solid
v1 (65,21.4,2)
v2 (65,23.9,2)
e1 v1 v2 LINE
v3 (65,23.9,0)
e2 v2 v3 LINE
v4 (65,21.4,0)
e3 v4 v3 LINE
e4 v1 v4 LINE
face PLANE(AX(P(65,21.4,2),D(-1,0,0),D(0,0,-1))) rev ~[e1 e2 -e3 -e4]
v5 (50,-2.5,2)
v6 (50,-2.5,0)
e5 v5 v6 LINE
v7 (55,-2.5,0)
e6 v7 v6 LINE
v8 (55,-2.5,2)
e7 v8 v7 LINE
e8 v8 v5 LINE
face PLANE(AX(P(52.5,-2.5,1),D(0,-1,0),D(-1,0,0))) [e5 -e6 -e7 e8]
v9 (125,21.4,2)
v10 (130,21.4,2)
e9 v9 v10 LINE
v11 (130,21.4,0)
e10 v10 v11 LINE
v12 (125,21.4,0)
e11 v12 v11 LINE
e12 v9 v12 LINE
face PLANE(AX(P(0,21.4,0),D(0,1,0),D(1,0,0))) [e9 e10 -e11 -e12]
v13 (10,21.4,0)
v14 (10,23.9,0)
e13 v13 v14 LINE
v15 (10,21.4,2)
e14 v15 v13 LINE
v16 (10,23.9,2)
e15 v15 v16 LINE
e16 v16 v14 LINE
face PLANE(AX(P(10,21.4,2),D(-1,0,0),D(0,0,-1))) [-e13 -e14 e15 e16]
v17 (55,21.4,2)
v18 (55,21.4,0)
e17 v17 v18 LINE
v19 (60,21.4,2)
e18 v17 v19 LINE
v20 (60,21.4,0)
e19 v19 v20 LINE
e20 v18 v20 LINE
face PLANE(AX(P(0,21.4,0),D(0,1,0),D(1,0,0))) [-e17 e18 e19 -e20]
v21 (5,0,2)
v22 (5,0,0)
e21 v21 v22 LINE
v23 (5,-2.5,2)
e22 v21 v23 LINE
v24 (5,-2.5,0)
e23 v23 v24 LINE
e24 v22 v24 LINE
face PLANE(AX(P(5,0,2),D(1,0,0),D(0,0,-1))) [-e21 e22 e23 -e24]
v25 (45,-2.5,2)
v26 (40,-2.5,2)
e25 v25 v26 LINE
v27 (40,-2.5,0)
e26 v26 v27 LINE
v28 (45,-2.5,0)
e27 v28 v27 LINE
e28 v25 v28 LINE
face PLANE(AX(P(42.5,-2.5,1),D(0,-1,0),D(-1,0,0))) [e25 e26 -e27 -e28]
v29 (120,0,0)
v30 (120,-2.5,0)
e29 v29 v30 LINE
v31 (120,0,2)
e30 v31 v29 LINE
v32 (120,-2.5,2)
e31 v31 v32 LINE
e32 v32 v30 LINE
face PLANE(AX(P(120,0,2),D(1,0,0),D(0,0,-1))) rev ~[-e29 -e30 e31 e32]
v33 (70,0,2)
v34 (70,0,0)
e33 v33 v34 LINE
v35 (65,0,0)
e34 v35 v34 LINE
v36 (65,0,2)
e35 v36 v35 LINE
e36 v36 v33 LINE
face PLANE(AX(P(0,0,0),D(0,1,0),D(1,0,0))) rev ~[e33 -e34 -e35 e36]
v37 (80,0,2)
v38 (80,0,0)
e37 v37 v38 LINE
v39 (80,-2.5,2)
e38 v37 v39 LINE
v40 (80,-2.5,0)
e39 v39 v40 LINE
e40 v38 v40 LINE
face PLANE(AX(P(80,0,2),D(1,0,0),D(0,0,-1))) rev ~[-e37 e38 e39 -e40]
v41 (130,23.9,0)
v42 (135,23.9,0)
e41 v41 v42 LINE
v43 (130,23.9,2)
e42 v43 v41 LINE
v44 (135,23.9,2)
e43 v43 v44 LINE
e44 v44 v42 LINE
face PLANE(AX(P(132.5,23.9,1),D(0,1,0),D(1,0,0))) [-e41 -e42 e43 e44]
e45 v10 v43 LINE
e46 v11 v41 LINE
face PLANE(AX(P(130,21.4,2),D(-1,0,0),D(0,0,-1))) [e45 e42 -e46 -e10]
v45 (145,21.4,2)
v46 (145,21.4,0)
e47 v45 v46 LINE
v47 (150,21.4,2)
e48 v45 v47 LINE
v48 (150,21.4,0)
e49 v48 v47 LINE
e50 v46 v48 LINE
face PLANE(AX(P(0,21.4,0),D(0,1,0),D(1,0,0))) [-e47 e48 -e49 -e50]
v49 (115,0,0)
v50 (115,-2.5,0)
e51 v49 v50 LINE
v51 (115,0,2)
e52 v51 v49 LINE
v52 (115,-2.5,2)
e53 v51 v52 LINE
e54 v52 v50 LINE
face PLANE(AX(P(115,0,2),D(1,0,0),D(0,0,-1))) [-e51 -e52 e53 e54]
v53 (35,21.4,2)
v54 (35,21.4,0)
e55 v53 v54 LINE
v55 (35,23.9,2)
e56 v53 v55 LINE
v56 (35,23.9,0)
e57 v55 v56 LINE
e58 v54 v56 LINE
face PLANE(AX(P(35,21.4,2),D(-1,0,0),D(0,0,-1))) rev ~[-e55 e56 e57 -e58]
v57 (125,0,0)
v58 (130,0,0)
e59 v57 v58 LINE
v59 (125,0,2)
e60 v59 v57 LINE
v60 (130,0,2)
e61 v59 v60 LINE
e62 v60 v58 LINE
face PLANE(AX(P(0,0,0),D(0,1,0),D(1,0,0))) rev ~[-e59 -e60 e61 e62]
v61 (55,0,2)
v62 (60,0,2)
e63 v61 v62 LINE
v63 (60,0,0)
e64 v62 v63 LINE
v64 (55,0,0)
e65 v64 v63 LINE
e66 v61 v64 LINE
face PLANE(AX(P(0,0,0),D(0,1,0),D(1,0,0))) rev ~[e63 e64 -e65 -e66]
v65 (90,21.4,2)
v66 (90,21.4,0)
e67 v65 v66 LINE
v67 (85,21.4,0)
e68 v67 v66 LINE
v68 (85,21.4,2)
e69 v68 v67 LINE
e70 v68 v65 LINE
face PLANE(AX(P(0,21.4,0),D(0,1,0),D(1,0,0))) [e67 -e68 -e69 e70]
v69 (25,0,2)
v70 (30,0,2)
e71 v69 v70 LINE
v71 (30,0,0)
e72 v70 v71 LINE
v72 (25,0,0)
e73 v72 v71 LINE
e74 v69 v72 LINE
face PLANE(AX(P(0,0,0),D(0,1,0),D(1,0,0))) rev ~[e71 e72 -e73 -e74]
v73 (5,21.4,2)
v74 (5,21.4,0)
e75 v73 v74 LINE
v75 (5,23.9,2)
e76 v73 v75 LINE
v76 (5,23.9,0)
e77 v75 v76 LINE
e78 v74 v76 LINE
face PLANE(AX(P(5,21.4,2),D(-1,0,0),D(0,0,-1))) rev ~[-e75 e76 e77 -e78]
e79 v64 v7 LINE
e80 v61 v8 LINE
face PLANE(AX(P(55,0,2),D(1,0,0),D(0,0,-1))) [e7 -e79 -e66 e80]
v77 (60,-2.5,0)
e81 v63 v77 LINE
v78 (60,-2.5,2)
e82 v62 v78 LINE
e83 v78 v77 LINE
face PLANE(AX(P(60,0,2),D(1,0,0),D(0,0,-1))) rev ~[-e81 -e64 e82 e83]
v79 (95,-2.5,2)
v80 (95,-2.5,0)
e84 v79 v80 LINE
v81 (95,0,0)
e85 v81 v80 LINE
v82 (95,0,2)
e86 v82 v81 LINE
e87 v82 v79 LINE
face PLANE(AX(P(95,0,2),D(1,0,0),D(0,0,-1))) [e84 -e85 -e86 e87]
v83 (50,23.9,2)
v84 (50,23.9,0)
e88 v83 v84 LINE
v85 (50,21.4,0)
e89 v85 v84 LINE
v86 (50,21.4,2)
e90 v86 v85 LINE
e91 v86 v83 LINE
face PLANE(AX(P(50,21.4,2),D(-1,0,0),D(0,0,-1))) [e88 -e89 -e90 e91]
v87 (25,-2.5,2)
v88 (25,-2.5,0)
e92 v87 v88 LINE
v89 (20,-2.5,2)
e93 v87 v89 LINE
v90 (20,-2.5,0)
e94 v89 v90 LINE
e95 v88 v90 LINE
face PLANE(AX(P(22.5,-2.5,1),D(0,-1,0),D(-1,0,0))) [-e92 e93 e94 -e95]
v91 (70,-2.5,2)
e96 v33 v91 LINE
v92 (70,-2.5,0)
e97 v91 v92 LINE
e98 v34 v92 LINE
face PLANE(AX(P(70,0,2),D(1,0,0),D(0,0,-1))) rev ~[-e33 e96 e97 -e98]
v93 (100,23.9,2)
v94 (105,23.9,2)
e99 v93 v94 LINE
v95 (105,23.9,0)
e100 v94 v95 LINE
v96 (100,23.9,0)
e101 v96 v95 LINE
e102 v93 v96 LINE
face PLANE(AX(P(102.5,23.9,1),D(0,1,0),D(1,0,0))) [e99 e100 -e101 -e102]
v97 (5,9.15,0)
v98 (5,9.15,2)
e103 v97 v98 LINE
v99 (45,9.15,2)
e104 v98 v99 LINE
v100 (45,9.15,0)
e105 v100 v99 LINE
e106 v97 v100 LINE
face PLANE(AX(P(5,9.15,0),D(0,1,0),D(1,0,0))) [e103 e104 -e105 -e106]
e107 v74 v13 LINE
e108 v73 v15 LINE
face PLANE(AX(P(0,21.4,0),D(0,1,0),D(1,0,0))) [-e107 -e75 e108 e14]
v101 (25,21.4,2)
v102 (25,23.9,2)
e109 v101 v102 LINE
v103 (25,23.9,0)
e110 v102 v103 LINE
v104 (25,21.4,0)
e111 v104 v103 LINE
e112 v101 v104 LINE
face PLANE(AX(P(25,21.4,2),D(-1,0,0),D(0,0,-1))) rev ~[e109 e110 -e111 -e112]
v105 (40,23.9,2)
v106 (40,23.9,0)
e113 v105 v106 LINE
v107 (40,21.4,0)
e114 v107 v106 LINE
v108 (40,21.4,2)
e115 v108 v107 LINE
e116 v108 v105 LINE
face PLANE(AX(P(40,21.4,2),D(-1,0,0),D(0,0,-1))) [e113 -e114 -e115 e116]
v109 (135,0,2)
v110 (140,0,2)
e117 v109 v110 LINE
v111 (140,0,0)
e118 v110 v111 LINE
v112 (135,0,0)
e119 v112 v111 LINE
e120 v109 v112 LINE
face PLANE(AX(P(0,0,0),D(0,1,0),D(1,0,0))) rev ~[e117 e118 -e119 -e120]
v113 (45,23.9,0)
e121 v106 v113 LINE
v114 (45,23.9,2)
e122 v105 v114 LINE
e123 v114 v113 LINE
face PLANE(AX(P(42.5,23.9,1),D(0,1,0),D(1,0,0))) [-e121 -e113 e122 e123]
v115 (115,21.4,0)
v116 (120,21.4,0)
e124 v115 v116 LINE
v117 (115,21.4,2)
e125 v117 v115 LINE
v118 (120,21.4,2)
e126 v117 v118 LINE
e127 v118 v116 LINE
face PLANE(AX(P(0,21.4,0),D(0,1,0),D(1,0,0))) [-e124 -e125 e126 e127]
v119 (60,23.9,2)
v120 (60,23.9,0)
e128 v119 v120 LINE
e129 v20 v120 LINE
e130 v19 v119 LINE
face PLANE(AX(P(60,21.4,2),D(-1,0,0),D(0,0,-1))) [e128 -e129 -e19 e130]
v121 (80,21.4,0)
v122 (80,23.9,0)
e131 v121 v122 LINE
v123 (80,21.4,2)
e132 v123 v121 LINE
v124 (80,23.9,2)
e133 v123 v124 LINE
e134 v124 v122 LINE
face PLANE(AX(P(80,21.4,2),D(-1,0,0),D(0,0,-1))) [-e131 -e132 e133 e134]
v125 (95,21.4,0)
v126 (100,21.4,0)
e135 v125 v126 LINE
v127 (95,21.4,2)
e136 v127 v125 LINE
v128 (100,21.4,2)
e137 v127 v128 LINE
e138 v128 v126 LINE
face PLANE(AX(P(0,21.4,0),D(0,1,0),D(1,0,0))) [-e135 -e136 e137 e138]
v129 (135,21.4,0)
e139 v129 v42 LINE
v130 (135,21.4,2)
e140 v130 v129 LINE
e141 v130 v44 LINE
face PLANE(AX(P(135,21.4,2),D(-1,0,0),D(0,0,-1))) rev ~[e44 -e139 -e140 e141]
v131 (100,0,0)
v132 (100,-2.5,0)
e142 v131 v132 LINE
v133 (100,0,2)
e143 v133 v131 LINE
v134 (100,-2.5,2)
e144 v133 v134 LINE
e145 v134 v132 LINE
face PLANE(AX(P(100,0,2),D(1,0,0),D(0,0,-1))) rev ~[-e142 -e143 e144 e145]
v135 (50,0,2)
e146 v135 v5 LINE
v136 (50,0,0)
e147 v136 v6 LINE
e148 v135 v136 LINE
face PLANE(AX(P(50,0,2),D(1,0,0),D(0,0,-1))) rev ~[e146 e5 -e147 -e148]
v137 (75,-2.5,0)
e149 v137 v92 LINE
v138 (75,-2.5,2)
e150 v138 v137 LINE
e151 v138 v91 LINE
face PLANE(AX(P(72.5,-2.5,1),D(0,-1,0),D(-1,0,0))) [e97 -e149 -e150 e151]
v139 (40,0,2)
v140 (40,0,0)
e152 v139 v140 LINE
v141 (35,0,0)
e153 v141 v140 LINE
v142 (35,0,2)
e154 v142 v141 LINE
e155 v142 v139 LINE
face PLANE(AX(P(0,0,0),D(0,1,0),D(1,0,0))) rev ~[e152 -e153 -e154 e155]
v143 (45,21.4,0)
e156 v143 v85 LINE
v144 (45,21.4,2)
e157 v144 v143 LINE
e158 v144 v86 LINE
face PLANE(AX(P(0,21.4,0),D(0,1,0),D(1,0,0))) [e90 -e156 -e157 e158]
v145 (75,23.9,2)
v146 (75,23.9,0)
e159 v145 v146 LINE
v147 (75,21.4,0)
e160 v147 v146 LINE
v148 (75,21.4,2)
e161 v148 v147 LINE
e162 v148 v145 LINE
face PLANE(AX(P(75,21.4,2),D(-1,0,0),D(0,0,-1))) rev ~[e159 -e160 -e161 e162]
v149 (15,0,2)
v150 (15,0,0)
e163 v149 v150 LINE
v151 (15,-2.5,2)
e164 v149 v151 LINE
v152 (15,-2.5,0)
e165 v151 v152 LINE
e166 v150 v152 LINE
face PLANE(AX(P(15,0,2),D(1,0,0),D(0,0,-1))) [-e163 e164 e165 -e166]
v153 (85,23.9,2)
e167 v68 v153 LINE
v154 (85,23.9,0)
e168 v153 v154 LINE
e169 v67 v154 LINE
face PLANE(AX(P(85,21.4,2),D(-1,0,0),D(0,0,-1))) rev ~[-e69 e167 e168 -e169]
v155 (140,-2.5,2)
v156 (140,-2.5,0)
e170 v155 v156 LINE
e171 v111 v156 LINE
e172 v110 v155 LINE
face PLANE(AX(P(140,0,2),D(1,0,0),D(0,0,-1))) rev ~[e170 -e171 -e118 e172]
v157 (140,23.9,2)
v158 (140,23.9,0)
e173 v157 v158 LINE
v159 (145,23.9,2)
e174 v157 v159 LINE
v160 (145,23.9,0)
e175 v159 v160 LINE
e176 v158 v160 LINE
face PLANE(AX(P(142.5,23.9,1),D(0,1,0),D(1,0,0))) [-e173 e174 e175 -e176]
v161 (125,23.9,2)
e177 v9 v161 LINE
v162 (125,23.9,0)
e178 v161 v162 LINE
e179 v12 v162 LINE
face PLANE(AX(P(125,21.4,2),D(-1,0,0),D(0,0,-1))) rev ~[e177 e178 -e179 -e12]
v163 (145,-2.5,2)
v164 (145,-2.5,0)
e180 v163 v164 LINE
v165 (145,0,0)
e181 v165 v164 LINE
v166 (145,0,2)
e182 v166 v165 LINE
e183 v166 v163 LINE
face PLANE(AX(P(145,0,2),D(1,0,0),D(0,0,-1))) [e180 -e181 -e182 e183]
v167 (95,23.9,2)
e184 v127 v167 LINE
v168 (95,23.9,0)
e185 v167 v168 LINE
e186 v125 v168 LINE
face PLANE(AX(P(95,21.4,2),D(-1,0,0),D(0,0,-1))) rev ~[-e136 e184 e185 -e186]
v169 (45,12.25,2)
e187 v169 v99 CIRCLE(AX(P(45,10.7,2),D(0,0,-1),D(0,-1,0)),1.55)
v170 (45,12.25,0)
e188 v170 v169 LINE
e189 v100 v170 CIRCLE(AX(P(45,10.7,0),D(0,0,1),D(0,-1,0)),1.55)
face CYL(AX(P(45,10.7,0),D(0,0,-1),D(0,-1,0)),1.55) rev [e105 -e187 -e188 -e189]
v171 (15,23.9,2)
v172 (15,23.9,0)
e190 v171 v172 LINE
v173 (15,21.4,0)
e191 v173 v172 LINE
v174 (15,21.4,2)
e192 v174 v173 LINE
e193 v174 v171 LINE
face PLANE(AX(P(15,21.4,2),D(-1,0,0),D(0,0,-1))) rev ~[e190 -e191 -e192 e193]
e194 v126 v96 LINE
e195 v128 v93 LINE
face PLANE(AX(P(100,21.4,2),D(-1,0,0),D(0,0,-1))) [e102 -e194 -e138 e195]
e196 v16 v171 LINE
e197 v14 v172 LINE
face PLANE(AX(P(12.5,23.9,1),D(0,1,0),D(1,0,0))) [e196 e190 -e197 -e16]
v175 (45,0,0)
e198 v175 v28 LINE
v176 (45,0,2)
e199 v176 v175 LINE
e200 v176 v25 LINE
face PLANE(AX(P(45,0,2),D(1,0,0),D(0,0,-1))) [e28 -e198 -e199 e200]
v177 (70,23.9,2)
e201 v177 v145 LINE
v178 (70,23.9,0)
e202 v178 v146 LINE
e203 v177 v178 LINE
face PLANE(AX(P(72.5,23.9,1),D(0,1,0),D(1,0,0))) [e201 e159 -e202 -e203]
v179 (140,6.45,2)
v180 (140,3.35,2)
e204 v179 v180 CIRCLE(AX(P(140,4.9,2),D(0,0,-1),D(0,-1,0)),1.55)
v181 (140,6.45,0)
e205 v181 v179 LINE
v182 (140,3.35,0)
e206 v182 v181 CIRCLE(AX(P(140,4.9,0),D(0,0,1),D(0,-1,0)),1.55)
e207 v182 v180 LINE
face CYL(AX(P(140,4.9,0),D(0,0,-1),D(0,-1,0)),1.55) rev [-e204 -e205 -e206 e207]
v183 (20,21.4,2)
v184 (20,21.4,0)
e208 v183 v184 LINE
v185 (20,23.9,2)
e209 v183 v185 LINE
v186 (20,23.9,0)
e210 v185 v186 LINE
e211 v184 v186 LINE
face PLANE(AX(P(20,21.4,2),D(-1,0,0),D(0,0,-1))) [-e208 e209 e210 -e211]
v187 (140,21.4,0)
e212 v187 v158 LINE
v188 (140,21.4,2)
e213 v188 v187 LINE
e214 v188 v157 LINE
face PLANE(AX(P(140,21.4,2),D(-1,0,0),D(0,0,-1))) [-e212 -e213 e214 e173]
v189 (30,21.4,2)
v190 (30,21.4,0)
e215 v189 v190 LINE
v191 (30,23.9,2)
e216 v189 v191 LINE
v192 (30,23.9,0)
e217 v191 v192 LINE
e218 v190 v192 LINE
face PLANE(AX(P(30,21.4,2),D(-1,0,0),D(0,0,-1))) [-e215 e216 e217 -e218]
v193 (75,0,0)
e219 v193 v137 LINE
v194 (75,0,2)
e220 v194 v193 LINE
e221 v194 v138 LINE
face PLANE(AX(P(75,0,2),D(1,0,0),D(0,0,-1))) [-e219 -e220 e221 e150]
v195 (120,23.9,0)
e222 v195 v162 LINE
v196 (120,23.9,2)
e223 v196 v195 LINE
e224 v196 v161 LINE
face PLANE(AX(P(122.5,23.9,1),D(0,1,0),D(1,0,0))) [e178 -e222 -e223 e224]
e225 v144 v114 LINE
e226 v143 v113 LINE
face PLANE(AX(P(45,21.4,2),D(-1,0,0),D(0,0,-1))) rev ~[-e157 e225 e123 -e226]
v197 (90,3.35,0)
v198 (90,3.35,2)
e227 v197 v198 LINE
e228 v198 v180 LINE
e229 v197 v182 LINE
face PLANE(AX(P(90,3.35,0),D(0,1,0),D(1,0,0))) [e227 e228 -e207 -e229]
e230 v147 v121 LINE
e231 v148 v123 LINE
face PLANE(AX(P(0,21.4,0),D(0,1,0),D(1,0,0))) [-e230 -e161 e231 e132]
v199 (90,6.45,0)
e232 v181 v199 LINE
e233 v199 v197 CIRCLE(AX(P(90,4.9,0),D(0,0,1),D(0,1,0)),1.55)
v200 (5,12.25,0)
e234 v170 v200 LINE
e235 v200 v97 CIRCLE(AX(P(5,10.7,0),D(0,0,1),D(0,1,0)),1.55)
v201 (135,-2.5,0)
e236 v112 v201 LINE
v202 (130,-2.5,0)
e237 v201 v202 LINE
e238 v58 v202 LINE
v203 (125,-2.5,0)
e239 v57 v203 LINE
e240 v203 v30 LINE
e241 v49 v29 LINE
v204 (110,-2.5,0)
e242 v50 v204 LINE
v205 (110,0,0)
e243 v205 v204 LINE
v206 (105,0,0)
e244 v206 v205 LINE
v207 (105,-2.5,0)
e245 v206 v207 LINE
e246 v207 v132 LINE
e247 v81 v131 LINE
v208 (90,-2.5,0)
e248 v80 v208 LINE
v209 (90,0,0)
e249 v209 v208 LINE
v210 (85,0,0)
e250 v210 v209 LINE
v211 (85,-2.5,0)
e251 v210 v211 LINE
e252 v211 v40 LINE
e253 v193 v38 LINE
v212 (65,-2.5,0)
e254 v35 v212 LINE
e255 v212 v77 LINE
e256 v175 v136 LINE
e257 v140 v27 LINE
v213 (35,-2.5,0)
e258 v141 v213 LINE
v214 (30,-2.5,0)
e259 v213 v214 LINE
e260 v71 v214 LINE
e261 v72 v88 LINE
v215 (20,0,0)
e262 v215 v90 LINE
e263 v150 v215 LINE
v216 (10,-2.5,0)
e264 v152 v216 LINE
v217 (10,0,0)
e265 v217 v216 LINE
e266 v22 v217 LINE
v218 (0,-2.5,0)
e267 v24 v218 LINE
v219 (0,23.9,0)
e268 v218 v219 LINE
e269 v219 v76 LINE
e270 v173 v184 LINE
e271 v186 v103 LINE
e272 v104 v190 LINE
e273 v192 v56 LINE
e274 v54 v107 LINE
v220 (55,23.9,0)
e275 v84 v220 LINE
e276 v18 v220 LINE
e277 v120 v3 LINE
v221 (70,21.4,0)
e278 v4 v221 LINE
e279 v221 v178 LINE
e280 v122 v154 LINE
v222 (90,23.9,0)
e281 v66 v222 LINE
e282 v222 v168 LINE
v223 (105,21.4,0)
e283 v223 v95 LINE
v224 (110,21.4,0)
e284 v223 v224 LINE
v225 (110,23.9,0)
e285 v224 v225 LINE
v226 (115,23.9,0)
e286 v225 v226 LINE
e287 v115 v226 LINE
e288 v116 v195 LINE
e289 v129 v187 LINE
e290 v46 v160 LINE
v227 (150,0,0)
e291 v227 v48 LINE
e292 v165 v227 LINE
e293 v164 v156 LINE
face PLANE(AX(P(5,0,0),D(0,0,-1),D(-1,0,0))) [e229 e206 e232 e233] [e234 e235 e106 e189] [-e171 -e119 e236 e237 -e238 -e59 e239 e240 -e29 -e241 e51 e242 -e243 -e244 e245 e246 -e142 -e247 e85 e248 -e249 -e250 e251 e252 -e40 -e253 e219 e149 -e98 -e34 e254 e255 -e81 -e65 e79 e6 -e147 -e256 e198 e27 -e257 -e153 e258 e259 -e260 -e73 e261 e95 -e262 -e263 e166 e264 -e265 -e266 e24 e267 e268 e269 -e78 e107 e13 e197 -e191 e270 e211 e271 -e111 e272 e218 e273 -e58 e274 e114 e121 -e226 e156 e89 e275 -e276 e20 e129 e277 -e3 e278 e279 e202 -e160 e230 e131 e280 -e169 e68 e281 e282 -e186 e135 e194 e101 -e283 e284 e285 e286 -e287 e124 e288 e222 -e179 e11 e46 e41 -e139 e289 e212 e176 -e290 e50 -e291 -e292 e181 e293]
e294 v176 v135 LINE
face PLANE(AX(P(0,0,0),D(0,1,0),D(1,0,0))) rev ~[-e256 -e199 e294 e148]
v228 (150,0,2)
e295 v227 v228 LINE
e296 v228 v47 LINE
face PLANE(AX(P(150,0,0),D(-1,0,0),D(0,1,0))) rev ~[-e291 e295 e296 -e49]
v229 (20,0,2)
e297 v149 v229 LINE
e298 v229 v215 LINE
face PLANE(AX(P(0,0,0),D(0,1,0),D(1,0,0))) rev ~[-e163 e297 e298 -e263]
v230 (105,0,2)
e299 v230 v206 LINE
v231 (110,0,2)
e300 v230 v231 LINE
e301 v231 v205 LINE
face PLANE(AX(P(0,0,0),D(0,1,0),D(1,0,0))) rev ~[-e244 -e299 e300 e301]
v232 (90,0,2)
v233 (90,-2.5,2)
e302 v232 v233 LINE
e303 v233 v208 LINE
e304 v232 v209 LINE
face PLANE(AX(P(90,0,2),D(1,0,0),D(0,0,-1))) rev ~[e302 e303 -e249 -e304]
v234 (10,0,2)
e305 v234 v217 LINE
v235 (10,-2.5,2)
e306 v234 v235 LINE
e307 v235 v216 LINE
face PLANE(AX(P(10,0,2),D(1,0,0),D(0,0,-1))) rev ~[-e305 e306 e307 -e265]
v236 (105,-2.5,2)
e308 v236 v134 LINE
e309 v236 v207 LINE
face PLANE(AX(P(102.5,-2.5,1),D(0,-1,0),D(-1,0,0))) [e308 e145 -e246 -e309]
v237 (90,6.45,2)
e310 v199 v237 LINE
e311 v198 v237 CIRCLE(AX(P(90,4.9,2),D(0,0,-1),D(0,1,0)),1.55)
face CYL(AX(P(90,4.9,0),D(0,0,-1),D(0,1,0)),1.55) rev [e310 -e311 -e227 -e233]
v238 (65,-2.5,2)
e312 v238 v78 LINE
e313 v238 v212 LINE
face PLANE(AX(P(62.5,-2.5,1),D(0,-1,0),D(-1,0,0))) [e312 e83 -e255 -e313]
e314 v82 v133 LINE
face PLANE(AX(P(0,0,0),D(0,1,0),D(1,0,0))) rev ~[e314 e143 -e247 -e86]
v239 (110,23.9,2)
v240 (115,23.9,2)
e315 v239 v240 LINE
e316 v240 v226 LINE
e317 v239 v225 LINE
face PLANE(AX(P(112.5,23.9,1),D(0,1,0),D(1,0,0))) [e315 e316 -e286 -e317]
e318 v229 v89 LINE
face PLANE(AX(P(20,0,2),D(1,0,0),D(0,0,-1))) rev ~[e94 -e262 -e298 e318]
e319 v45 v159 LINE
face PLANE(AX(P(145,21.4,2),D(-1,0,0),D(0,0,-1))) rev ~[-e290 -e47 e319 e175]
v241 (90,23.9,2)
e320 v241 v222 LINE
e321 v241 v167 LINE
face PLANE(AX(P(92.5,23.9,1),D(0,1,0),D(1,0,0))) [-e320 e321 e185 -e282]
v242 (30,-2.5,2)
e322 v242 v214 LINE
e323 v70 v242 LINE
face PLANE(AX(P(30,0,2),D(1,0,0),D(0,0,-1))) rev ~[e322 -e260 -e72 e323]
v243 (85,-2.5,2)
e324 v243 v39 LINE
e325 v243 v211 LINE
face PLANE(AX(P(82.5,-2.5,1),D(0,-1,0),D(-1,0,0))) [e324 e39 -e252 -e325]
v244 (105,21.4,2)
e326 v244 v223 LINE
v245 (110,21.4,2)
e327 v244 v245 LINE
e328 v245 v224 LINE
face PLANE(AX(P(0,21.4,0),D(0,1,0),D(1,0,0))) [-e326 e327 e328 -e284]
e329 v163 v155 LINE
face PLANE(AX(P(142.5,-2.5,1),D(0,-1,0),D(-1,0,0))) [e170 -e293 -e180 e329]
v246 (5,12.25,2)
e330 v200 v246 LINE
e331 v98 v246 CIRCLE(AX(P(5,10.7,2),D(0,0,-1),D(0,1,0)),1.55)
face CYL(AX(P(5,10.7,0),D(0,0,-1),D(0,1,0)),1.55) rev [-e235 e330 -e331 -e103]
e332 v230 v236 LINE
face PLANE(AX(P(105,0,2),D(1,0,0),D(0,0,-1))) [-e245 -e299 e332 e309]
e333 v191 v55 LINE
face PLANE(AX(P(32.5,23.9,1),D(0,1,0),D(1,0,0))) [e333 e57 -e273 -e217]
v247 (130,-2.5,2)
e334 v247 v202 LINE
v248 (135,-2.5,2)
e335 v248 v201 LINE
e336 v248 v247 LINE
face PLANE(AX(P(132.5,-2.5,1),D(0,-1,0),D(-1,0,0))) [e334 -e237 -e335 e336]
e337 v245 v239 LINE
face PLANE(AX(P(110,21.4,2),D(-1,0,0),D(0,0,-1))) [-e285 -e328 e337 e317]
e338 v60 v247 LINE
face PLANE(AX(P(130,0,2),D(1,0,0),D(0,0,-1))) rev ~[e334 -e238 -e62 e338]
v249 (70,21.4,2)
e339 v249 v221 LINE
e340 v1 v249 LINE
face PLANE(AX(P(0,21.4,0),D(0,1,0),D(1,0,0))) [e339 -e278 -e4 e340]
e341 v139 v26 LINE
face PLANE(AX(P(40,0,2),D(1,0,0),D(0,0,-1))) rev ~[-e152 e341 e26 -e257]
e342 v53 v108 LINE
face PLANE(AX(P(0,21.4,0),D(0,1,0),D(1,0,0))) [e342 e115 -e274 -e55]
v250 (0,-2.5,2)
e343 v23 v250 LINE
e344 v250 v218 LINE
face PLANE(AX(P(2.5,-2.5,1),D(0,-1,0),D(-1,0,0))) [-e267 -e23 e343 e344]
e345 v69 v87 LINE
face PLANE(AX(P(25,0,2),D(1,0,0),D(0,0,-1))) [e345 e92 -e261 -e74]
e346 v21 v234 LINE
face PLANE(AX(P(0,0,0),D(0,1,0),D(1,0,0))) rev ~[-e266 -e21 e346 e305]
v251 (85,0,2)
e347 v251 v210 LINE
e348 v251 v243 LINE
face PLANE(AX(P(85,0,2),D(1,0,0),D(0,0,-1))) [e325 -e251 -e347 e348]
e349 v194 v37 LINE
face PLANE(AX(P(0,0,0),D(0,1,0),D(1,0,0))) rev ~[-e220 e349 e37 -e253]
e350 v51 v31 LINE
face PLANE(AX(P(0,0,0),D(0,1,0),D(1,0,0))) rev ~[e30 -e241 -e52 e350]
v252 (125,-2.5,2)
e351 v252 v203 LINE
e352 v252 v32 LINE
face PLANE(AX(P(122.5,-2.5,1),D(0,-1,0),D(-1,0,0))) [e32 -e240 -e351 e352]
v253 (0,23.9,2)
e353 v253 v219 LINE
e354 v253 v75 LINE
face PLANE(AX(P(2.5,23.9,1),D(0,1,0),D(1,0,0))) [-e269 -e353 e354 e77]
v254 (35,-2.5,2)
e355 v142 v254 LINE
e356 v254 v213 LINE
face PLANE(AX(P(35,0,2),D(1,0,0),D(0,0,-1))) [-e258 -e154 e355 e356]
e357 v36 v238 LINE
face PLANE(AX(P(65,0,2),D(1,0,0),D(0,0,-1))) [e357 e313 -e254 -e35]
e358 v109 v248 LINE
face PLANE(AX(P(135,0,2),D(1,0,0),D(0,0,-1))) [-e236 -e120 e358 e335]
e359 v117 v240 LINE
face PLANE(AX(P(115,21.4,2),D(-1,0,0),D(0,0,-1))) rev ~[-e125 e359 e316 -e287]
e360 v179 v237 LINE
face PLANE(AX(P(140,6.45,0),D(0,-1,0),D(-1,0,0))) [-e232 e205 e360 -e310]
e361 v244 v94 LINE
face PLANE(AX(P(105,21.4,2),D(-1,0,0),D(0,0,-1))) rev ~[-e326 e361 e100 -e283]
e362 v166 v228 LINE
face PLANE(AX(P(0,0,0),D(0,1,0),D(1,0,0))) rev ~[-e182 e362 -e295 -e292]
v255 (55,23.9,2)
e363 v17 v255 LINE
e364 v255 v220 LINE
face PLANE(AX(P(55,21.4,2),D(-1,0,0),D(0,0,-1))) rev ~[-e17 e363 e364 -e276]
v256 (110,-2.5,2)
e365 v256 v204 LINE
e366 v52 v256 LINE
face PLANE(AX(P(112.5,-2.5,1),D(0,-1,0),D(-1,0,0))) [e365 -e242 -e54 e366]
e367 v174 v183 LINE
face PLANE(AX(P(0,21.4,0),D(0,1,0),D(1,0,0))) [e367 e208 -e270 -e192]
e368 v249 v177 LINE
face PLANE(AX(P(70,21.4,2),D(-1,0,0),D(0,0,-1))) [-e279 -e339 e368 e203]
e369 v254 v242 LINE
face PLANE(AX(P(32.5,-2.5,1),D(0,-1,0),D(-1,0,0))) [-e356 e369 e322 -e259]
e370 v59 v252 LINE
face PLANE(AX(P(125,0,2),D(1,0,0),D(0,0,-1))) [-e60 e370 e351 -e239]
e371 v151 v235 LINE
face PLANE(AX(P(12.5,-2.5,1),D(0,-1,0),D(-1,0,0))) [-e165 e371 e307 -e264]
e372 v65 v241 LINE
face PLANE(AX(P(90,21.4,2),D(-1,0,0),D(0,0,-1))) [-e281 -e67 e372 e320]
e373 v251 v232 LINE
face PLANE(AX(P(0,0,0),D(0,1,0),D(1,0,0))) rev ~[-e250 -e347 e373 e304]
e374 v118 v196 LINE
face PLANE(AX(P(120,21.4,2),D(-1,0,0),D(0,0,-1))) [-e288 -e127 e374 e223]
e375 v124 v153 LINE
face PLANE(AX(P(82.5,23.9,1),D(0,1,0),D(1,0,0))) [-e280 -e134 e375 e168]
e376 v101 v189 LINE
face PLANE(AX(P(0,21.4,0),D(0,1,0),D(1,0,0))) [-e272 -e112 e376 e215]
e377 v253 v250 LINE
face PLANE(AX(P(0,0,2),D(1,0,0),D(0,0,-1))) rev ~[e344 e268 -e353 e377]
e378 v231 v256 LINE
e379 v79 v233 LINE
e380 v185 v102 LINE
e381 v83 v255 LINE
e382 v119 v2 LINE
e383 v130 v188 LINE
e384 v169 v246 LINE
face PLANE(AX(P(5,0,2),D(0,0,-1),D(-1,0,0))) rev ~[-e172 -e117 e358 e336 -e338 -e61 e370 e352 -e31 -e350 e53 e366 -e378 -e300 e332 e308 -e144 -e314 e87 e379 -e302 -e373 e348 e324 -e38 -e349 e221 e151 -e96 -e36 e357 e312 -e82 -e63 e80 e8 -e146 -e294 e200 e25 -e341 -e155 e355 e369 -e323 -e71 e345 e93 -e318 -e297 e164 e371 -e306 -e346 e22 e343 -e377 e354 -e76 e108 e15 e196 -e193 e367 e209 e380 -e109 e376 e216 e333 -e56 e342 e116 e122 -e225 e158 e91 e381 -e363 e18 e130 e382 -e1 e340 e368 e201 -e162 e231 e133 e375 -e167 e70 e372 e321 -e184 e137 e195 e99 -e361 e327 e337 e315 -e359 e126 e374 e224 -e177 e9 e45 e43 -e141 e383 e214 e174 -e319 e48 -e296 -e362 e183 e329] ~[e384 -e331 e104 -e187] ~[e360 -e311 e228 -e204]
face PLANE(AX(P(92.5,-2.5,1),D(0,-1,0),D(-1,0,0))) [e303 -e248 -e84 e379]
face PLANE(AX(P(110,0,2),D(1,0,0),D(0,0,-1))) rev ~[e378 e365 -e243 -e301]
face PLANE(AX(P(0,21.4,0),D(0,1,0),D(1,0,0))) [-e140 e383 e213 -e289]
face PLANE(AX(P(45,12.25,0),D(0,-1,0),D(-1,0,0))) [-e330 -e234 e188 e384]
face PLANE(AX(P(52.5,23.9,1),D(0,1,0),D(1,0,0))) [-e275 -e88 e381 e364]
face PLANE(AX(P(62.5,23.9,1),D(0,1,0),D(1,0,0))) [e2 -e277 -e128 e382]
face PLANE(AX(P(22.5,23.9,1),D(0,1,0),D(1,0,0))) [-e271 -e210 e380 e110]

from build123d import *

# Parameters (mm, degrees)
SKETCH1_W           = 150
SKETCH1_H           = 21.4
BOSS_EXTRUDE2_DEPTH = 2
SKETCH2_W           = 5
SKETCH2_H           = 2
BOSS_EXTRUDE3_DEPTH = 2.5
LPATTERN1_COUNT     = 15
LPATTERN1_PITCH     = 10
SKETCH3_W           = 5
SKETCH3_H           = 2
BOSS_EXTRUDE4_DEPTH = 2.5
LPATTERN2_COUNT     = 15
LPATTERN2_PITCH     = 10
CUT_EXTRUDE1_DEPTH  = 10


with BuildPart() as part:
    # Sketch1 → Boss-Extrude2 (new body)
    with BuildSketch(Plane.XY):
        with Locations((75, 10.7)):
            Rectangle(SKETCH1_W, SKETCH1_H)
    extrude(amount=BOSS_EXTRUDE2_DEPTH)

    # Sketch2 → Boss-Extrude3 (add)
    with BuildSketch(Plane(origin=(0, 21.4, 0), x_dir=(1, 0, 0), z_dir=(0, 1, 0))):
        with Locations((2.5, -1)):
            Rectangle(SKETCH2_W, SKETCH2_H)
    boss_extrude3 = extrude(amount=BOSS_EXTRUDE3_DEPTH)

    # LPattern1: Boss-Extrude3 ×15
    with Locations(*[(i * LPATTERN1_PITCH, 0, 0) for i in range(1, LPATTERN1_COUNT)]):
        add(boss_extrude3)

    # Sketch3 → Boss-Extrude4 (add)
    with BuildSketch(Plane(origin=(0, 0, 0), x_dir=(-1, 0, 0), z_dir=(0, -1, 0))):
        with Locations((-2.5, -1)):
            Rectangle(SKETCH3_W, SKETCH3_H)
    boss_extrude4 = extrude(amount=BOSS_EXTRUDE4_DEPTH)

    # LPattern2: Boss-Extrude4 ×15
    with Locations(*[(i * LPATTERN2_PITCH, 0, 0) for i in range(1, LPATTERN2_COUNT)]):
        add(boss_extrude4)

    # Sketch4 → Cut-Extrude1 (cut)
    with BuildSketch(Plane(origin=(0, 0, 0), x_dir=(-1, 0, 0), z_dir=(0, 0, -1))):
        with BuildLine():
            Line((-140, 6.45), (-90, 6.45))
            ThreePointArc((-90, 6.45), (-88.45, 4.9), (-90, 3.35))
            Line((-90, 3.35), (-140, 3.35))
            ThreePointArc((-140, 3.35), (-141.55, 4.9), (-140, 6.45))
        make_face()
        with BuildLine():
            Line((-45, 12.25), (-5, 12.25))
            ThreePointArc((-5, 12.25), (-3.45, 10.7), (-5, 9.15))
            Line((-5, 9.15), (-45, 9.15))
            ThreePointArc((-45, 9.15), (-46.55, 10.7), (-45, 12.25))
        make_face()
    extrude(amount=-CUT_EXTRUDE1_DEPTH, mode=Mode.SUBTRACT)


solid = part.part
